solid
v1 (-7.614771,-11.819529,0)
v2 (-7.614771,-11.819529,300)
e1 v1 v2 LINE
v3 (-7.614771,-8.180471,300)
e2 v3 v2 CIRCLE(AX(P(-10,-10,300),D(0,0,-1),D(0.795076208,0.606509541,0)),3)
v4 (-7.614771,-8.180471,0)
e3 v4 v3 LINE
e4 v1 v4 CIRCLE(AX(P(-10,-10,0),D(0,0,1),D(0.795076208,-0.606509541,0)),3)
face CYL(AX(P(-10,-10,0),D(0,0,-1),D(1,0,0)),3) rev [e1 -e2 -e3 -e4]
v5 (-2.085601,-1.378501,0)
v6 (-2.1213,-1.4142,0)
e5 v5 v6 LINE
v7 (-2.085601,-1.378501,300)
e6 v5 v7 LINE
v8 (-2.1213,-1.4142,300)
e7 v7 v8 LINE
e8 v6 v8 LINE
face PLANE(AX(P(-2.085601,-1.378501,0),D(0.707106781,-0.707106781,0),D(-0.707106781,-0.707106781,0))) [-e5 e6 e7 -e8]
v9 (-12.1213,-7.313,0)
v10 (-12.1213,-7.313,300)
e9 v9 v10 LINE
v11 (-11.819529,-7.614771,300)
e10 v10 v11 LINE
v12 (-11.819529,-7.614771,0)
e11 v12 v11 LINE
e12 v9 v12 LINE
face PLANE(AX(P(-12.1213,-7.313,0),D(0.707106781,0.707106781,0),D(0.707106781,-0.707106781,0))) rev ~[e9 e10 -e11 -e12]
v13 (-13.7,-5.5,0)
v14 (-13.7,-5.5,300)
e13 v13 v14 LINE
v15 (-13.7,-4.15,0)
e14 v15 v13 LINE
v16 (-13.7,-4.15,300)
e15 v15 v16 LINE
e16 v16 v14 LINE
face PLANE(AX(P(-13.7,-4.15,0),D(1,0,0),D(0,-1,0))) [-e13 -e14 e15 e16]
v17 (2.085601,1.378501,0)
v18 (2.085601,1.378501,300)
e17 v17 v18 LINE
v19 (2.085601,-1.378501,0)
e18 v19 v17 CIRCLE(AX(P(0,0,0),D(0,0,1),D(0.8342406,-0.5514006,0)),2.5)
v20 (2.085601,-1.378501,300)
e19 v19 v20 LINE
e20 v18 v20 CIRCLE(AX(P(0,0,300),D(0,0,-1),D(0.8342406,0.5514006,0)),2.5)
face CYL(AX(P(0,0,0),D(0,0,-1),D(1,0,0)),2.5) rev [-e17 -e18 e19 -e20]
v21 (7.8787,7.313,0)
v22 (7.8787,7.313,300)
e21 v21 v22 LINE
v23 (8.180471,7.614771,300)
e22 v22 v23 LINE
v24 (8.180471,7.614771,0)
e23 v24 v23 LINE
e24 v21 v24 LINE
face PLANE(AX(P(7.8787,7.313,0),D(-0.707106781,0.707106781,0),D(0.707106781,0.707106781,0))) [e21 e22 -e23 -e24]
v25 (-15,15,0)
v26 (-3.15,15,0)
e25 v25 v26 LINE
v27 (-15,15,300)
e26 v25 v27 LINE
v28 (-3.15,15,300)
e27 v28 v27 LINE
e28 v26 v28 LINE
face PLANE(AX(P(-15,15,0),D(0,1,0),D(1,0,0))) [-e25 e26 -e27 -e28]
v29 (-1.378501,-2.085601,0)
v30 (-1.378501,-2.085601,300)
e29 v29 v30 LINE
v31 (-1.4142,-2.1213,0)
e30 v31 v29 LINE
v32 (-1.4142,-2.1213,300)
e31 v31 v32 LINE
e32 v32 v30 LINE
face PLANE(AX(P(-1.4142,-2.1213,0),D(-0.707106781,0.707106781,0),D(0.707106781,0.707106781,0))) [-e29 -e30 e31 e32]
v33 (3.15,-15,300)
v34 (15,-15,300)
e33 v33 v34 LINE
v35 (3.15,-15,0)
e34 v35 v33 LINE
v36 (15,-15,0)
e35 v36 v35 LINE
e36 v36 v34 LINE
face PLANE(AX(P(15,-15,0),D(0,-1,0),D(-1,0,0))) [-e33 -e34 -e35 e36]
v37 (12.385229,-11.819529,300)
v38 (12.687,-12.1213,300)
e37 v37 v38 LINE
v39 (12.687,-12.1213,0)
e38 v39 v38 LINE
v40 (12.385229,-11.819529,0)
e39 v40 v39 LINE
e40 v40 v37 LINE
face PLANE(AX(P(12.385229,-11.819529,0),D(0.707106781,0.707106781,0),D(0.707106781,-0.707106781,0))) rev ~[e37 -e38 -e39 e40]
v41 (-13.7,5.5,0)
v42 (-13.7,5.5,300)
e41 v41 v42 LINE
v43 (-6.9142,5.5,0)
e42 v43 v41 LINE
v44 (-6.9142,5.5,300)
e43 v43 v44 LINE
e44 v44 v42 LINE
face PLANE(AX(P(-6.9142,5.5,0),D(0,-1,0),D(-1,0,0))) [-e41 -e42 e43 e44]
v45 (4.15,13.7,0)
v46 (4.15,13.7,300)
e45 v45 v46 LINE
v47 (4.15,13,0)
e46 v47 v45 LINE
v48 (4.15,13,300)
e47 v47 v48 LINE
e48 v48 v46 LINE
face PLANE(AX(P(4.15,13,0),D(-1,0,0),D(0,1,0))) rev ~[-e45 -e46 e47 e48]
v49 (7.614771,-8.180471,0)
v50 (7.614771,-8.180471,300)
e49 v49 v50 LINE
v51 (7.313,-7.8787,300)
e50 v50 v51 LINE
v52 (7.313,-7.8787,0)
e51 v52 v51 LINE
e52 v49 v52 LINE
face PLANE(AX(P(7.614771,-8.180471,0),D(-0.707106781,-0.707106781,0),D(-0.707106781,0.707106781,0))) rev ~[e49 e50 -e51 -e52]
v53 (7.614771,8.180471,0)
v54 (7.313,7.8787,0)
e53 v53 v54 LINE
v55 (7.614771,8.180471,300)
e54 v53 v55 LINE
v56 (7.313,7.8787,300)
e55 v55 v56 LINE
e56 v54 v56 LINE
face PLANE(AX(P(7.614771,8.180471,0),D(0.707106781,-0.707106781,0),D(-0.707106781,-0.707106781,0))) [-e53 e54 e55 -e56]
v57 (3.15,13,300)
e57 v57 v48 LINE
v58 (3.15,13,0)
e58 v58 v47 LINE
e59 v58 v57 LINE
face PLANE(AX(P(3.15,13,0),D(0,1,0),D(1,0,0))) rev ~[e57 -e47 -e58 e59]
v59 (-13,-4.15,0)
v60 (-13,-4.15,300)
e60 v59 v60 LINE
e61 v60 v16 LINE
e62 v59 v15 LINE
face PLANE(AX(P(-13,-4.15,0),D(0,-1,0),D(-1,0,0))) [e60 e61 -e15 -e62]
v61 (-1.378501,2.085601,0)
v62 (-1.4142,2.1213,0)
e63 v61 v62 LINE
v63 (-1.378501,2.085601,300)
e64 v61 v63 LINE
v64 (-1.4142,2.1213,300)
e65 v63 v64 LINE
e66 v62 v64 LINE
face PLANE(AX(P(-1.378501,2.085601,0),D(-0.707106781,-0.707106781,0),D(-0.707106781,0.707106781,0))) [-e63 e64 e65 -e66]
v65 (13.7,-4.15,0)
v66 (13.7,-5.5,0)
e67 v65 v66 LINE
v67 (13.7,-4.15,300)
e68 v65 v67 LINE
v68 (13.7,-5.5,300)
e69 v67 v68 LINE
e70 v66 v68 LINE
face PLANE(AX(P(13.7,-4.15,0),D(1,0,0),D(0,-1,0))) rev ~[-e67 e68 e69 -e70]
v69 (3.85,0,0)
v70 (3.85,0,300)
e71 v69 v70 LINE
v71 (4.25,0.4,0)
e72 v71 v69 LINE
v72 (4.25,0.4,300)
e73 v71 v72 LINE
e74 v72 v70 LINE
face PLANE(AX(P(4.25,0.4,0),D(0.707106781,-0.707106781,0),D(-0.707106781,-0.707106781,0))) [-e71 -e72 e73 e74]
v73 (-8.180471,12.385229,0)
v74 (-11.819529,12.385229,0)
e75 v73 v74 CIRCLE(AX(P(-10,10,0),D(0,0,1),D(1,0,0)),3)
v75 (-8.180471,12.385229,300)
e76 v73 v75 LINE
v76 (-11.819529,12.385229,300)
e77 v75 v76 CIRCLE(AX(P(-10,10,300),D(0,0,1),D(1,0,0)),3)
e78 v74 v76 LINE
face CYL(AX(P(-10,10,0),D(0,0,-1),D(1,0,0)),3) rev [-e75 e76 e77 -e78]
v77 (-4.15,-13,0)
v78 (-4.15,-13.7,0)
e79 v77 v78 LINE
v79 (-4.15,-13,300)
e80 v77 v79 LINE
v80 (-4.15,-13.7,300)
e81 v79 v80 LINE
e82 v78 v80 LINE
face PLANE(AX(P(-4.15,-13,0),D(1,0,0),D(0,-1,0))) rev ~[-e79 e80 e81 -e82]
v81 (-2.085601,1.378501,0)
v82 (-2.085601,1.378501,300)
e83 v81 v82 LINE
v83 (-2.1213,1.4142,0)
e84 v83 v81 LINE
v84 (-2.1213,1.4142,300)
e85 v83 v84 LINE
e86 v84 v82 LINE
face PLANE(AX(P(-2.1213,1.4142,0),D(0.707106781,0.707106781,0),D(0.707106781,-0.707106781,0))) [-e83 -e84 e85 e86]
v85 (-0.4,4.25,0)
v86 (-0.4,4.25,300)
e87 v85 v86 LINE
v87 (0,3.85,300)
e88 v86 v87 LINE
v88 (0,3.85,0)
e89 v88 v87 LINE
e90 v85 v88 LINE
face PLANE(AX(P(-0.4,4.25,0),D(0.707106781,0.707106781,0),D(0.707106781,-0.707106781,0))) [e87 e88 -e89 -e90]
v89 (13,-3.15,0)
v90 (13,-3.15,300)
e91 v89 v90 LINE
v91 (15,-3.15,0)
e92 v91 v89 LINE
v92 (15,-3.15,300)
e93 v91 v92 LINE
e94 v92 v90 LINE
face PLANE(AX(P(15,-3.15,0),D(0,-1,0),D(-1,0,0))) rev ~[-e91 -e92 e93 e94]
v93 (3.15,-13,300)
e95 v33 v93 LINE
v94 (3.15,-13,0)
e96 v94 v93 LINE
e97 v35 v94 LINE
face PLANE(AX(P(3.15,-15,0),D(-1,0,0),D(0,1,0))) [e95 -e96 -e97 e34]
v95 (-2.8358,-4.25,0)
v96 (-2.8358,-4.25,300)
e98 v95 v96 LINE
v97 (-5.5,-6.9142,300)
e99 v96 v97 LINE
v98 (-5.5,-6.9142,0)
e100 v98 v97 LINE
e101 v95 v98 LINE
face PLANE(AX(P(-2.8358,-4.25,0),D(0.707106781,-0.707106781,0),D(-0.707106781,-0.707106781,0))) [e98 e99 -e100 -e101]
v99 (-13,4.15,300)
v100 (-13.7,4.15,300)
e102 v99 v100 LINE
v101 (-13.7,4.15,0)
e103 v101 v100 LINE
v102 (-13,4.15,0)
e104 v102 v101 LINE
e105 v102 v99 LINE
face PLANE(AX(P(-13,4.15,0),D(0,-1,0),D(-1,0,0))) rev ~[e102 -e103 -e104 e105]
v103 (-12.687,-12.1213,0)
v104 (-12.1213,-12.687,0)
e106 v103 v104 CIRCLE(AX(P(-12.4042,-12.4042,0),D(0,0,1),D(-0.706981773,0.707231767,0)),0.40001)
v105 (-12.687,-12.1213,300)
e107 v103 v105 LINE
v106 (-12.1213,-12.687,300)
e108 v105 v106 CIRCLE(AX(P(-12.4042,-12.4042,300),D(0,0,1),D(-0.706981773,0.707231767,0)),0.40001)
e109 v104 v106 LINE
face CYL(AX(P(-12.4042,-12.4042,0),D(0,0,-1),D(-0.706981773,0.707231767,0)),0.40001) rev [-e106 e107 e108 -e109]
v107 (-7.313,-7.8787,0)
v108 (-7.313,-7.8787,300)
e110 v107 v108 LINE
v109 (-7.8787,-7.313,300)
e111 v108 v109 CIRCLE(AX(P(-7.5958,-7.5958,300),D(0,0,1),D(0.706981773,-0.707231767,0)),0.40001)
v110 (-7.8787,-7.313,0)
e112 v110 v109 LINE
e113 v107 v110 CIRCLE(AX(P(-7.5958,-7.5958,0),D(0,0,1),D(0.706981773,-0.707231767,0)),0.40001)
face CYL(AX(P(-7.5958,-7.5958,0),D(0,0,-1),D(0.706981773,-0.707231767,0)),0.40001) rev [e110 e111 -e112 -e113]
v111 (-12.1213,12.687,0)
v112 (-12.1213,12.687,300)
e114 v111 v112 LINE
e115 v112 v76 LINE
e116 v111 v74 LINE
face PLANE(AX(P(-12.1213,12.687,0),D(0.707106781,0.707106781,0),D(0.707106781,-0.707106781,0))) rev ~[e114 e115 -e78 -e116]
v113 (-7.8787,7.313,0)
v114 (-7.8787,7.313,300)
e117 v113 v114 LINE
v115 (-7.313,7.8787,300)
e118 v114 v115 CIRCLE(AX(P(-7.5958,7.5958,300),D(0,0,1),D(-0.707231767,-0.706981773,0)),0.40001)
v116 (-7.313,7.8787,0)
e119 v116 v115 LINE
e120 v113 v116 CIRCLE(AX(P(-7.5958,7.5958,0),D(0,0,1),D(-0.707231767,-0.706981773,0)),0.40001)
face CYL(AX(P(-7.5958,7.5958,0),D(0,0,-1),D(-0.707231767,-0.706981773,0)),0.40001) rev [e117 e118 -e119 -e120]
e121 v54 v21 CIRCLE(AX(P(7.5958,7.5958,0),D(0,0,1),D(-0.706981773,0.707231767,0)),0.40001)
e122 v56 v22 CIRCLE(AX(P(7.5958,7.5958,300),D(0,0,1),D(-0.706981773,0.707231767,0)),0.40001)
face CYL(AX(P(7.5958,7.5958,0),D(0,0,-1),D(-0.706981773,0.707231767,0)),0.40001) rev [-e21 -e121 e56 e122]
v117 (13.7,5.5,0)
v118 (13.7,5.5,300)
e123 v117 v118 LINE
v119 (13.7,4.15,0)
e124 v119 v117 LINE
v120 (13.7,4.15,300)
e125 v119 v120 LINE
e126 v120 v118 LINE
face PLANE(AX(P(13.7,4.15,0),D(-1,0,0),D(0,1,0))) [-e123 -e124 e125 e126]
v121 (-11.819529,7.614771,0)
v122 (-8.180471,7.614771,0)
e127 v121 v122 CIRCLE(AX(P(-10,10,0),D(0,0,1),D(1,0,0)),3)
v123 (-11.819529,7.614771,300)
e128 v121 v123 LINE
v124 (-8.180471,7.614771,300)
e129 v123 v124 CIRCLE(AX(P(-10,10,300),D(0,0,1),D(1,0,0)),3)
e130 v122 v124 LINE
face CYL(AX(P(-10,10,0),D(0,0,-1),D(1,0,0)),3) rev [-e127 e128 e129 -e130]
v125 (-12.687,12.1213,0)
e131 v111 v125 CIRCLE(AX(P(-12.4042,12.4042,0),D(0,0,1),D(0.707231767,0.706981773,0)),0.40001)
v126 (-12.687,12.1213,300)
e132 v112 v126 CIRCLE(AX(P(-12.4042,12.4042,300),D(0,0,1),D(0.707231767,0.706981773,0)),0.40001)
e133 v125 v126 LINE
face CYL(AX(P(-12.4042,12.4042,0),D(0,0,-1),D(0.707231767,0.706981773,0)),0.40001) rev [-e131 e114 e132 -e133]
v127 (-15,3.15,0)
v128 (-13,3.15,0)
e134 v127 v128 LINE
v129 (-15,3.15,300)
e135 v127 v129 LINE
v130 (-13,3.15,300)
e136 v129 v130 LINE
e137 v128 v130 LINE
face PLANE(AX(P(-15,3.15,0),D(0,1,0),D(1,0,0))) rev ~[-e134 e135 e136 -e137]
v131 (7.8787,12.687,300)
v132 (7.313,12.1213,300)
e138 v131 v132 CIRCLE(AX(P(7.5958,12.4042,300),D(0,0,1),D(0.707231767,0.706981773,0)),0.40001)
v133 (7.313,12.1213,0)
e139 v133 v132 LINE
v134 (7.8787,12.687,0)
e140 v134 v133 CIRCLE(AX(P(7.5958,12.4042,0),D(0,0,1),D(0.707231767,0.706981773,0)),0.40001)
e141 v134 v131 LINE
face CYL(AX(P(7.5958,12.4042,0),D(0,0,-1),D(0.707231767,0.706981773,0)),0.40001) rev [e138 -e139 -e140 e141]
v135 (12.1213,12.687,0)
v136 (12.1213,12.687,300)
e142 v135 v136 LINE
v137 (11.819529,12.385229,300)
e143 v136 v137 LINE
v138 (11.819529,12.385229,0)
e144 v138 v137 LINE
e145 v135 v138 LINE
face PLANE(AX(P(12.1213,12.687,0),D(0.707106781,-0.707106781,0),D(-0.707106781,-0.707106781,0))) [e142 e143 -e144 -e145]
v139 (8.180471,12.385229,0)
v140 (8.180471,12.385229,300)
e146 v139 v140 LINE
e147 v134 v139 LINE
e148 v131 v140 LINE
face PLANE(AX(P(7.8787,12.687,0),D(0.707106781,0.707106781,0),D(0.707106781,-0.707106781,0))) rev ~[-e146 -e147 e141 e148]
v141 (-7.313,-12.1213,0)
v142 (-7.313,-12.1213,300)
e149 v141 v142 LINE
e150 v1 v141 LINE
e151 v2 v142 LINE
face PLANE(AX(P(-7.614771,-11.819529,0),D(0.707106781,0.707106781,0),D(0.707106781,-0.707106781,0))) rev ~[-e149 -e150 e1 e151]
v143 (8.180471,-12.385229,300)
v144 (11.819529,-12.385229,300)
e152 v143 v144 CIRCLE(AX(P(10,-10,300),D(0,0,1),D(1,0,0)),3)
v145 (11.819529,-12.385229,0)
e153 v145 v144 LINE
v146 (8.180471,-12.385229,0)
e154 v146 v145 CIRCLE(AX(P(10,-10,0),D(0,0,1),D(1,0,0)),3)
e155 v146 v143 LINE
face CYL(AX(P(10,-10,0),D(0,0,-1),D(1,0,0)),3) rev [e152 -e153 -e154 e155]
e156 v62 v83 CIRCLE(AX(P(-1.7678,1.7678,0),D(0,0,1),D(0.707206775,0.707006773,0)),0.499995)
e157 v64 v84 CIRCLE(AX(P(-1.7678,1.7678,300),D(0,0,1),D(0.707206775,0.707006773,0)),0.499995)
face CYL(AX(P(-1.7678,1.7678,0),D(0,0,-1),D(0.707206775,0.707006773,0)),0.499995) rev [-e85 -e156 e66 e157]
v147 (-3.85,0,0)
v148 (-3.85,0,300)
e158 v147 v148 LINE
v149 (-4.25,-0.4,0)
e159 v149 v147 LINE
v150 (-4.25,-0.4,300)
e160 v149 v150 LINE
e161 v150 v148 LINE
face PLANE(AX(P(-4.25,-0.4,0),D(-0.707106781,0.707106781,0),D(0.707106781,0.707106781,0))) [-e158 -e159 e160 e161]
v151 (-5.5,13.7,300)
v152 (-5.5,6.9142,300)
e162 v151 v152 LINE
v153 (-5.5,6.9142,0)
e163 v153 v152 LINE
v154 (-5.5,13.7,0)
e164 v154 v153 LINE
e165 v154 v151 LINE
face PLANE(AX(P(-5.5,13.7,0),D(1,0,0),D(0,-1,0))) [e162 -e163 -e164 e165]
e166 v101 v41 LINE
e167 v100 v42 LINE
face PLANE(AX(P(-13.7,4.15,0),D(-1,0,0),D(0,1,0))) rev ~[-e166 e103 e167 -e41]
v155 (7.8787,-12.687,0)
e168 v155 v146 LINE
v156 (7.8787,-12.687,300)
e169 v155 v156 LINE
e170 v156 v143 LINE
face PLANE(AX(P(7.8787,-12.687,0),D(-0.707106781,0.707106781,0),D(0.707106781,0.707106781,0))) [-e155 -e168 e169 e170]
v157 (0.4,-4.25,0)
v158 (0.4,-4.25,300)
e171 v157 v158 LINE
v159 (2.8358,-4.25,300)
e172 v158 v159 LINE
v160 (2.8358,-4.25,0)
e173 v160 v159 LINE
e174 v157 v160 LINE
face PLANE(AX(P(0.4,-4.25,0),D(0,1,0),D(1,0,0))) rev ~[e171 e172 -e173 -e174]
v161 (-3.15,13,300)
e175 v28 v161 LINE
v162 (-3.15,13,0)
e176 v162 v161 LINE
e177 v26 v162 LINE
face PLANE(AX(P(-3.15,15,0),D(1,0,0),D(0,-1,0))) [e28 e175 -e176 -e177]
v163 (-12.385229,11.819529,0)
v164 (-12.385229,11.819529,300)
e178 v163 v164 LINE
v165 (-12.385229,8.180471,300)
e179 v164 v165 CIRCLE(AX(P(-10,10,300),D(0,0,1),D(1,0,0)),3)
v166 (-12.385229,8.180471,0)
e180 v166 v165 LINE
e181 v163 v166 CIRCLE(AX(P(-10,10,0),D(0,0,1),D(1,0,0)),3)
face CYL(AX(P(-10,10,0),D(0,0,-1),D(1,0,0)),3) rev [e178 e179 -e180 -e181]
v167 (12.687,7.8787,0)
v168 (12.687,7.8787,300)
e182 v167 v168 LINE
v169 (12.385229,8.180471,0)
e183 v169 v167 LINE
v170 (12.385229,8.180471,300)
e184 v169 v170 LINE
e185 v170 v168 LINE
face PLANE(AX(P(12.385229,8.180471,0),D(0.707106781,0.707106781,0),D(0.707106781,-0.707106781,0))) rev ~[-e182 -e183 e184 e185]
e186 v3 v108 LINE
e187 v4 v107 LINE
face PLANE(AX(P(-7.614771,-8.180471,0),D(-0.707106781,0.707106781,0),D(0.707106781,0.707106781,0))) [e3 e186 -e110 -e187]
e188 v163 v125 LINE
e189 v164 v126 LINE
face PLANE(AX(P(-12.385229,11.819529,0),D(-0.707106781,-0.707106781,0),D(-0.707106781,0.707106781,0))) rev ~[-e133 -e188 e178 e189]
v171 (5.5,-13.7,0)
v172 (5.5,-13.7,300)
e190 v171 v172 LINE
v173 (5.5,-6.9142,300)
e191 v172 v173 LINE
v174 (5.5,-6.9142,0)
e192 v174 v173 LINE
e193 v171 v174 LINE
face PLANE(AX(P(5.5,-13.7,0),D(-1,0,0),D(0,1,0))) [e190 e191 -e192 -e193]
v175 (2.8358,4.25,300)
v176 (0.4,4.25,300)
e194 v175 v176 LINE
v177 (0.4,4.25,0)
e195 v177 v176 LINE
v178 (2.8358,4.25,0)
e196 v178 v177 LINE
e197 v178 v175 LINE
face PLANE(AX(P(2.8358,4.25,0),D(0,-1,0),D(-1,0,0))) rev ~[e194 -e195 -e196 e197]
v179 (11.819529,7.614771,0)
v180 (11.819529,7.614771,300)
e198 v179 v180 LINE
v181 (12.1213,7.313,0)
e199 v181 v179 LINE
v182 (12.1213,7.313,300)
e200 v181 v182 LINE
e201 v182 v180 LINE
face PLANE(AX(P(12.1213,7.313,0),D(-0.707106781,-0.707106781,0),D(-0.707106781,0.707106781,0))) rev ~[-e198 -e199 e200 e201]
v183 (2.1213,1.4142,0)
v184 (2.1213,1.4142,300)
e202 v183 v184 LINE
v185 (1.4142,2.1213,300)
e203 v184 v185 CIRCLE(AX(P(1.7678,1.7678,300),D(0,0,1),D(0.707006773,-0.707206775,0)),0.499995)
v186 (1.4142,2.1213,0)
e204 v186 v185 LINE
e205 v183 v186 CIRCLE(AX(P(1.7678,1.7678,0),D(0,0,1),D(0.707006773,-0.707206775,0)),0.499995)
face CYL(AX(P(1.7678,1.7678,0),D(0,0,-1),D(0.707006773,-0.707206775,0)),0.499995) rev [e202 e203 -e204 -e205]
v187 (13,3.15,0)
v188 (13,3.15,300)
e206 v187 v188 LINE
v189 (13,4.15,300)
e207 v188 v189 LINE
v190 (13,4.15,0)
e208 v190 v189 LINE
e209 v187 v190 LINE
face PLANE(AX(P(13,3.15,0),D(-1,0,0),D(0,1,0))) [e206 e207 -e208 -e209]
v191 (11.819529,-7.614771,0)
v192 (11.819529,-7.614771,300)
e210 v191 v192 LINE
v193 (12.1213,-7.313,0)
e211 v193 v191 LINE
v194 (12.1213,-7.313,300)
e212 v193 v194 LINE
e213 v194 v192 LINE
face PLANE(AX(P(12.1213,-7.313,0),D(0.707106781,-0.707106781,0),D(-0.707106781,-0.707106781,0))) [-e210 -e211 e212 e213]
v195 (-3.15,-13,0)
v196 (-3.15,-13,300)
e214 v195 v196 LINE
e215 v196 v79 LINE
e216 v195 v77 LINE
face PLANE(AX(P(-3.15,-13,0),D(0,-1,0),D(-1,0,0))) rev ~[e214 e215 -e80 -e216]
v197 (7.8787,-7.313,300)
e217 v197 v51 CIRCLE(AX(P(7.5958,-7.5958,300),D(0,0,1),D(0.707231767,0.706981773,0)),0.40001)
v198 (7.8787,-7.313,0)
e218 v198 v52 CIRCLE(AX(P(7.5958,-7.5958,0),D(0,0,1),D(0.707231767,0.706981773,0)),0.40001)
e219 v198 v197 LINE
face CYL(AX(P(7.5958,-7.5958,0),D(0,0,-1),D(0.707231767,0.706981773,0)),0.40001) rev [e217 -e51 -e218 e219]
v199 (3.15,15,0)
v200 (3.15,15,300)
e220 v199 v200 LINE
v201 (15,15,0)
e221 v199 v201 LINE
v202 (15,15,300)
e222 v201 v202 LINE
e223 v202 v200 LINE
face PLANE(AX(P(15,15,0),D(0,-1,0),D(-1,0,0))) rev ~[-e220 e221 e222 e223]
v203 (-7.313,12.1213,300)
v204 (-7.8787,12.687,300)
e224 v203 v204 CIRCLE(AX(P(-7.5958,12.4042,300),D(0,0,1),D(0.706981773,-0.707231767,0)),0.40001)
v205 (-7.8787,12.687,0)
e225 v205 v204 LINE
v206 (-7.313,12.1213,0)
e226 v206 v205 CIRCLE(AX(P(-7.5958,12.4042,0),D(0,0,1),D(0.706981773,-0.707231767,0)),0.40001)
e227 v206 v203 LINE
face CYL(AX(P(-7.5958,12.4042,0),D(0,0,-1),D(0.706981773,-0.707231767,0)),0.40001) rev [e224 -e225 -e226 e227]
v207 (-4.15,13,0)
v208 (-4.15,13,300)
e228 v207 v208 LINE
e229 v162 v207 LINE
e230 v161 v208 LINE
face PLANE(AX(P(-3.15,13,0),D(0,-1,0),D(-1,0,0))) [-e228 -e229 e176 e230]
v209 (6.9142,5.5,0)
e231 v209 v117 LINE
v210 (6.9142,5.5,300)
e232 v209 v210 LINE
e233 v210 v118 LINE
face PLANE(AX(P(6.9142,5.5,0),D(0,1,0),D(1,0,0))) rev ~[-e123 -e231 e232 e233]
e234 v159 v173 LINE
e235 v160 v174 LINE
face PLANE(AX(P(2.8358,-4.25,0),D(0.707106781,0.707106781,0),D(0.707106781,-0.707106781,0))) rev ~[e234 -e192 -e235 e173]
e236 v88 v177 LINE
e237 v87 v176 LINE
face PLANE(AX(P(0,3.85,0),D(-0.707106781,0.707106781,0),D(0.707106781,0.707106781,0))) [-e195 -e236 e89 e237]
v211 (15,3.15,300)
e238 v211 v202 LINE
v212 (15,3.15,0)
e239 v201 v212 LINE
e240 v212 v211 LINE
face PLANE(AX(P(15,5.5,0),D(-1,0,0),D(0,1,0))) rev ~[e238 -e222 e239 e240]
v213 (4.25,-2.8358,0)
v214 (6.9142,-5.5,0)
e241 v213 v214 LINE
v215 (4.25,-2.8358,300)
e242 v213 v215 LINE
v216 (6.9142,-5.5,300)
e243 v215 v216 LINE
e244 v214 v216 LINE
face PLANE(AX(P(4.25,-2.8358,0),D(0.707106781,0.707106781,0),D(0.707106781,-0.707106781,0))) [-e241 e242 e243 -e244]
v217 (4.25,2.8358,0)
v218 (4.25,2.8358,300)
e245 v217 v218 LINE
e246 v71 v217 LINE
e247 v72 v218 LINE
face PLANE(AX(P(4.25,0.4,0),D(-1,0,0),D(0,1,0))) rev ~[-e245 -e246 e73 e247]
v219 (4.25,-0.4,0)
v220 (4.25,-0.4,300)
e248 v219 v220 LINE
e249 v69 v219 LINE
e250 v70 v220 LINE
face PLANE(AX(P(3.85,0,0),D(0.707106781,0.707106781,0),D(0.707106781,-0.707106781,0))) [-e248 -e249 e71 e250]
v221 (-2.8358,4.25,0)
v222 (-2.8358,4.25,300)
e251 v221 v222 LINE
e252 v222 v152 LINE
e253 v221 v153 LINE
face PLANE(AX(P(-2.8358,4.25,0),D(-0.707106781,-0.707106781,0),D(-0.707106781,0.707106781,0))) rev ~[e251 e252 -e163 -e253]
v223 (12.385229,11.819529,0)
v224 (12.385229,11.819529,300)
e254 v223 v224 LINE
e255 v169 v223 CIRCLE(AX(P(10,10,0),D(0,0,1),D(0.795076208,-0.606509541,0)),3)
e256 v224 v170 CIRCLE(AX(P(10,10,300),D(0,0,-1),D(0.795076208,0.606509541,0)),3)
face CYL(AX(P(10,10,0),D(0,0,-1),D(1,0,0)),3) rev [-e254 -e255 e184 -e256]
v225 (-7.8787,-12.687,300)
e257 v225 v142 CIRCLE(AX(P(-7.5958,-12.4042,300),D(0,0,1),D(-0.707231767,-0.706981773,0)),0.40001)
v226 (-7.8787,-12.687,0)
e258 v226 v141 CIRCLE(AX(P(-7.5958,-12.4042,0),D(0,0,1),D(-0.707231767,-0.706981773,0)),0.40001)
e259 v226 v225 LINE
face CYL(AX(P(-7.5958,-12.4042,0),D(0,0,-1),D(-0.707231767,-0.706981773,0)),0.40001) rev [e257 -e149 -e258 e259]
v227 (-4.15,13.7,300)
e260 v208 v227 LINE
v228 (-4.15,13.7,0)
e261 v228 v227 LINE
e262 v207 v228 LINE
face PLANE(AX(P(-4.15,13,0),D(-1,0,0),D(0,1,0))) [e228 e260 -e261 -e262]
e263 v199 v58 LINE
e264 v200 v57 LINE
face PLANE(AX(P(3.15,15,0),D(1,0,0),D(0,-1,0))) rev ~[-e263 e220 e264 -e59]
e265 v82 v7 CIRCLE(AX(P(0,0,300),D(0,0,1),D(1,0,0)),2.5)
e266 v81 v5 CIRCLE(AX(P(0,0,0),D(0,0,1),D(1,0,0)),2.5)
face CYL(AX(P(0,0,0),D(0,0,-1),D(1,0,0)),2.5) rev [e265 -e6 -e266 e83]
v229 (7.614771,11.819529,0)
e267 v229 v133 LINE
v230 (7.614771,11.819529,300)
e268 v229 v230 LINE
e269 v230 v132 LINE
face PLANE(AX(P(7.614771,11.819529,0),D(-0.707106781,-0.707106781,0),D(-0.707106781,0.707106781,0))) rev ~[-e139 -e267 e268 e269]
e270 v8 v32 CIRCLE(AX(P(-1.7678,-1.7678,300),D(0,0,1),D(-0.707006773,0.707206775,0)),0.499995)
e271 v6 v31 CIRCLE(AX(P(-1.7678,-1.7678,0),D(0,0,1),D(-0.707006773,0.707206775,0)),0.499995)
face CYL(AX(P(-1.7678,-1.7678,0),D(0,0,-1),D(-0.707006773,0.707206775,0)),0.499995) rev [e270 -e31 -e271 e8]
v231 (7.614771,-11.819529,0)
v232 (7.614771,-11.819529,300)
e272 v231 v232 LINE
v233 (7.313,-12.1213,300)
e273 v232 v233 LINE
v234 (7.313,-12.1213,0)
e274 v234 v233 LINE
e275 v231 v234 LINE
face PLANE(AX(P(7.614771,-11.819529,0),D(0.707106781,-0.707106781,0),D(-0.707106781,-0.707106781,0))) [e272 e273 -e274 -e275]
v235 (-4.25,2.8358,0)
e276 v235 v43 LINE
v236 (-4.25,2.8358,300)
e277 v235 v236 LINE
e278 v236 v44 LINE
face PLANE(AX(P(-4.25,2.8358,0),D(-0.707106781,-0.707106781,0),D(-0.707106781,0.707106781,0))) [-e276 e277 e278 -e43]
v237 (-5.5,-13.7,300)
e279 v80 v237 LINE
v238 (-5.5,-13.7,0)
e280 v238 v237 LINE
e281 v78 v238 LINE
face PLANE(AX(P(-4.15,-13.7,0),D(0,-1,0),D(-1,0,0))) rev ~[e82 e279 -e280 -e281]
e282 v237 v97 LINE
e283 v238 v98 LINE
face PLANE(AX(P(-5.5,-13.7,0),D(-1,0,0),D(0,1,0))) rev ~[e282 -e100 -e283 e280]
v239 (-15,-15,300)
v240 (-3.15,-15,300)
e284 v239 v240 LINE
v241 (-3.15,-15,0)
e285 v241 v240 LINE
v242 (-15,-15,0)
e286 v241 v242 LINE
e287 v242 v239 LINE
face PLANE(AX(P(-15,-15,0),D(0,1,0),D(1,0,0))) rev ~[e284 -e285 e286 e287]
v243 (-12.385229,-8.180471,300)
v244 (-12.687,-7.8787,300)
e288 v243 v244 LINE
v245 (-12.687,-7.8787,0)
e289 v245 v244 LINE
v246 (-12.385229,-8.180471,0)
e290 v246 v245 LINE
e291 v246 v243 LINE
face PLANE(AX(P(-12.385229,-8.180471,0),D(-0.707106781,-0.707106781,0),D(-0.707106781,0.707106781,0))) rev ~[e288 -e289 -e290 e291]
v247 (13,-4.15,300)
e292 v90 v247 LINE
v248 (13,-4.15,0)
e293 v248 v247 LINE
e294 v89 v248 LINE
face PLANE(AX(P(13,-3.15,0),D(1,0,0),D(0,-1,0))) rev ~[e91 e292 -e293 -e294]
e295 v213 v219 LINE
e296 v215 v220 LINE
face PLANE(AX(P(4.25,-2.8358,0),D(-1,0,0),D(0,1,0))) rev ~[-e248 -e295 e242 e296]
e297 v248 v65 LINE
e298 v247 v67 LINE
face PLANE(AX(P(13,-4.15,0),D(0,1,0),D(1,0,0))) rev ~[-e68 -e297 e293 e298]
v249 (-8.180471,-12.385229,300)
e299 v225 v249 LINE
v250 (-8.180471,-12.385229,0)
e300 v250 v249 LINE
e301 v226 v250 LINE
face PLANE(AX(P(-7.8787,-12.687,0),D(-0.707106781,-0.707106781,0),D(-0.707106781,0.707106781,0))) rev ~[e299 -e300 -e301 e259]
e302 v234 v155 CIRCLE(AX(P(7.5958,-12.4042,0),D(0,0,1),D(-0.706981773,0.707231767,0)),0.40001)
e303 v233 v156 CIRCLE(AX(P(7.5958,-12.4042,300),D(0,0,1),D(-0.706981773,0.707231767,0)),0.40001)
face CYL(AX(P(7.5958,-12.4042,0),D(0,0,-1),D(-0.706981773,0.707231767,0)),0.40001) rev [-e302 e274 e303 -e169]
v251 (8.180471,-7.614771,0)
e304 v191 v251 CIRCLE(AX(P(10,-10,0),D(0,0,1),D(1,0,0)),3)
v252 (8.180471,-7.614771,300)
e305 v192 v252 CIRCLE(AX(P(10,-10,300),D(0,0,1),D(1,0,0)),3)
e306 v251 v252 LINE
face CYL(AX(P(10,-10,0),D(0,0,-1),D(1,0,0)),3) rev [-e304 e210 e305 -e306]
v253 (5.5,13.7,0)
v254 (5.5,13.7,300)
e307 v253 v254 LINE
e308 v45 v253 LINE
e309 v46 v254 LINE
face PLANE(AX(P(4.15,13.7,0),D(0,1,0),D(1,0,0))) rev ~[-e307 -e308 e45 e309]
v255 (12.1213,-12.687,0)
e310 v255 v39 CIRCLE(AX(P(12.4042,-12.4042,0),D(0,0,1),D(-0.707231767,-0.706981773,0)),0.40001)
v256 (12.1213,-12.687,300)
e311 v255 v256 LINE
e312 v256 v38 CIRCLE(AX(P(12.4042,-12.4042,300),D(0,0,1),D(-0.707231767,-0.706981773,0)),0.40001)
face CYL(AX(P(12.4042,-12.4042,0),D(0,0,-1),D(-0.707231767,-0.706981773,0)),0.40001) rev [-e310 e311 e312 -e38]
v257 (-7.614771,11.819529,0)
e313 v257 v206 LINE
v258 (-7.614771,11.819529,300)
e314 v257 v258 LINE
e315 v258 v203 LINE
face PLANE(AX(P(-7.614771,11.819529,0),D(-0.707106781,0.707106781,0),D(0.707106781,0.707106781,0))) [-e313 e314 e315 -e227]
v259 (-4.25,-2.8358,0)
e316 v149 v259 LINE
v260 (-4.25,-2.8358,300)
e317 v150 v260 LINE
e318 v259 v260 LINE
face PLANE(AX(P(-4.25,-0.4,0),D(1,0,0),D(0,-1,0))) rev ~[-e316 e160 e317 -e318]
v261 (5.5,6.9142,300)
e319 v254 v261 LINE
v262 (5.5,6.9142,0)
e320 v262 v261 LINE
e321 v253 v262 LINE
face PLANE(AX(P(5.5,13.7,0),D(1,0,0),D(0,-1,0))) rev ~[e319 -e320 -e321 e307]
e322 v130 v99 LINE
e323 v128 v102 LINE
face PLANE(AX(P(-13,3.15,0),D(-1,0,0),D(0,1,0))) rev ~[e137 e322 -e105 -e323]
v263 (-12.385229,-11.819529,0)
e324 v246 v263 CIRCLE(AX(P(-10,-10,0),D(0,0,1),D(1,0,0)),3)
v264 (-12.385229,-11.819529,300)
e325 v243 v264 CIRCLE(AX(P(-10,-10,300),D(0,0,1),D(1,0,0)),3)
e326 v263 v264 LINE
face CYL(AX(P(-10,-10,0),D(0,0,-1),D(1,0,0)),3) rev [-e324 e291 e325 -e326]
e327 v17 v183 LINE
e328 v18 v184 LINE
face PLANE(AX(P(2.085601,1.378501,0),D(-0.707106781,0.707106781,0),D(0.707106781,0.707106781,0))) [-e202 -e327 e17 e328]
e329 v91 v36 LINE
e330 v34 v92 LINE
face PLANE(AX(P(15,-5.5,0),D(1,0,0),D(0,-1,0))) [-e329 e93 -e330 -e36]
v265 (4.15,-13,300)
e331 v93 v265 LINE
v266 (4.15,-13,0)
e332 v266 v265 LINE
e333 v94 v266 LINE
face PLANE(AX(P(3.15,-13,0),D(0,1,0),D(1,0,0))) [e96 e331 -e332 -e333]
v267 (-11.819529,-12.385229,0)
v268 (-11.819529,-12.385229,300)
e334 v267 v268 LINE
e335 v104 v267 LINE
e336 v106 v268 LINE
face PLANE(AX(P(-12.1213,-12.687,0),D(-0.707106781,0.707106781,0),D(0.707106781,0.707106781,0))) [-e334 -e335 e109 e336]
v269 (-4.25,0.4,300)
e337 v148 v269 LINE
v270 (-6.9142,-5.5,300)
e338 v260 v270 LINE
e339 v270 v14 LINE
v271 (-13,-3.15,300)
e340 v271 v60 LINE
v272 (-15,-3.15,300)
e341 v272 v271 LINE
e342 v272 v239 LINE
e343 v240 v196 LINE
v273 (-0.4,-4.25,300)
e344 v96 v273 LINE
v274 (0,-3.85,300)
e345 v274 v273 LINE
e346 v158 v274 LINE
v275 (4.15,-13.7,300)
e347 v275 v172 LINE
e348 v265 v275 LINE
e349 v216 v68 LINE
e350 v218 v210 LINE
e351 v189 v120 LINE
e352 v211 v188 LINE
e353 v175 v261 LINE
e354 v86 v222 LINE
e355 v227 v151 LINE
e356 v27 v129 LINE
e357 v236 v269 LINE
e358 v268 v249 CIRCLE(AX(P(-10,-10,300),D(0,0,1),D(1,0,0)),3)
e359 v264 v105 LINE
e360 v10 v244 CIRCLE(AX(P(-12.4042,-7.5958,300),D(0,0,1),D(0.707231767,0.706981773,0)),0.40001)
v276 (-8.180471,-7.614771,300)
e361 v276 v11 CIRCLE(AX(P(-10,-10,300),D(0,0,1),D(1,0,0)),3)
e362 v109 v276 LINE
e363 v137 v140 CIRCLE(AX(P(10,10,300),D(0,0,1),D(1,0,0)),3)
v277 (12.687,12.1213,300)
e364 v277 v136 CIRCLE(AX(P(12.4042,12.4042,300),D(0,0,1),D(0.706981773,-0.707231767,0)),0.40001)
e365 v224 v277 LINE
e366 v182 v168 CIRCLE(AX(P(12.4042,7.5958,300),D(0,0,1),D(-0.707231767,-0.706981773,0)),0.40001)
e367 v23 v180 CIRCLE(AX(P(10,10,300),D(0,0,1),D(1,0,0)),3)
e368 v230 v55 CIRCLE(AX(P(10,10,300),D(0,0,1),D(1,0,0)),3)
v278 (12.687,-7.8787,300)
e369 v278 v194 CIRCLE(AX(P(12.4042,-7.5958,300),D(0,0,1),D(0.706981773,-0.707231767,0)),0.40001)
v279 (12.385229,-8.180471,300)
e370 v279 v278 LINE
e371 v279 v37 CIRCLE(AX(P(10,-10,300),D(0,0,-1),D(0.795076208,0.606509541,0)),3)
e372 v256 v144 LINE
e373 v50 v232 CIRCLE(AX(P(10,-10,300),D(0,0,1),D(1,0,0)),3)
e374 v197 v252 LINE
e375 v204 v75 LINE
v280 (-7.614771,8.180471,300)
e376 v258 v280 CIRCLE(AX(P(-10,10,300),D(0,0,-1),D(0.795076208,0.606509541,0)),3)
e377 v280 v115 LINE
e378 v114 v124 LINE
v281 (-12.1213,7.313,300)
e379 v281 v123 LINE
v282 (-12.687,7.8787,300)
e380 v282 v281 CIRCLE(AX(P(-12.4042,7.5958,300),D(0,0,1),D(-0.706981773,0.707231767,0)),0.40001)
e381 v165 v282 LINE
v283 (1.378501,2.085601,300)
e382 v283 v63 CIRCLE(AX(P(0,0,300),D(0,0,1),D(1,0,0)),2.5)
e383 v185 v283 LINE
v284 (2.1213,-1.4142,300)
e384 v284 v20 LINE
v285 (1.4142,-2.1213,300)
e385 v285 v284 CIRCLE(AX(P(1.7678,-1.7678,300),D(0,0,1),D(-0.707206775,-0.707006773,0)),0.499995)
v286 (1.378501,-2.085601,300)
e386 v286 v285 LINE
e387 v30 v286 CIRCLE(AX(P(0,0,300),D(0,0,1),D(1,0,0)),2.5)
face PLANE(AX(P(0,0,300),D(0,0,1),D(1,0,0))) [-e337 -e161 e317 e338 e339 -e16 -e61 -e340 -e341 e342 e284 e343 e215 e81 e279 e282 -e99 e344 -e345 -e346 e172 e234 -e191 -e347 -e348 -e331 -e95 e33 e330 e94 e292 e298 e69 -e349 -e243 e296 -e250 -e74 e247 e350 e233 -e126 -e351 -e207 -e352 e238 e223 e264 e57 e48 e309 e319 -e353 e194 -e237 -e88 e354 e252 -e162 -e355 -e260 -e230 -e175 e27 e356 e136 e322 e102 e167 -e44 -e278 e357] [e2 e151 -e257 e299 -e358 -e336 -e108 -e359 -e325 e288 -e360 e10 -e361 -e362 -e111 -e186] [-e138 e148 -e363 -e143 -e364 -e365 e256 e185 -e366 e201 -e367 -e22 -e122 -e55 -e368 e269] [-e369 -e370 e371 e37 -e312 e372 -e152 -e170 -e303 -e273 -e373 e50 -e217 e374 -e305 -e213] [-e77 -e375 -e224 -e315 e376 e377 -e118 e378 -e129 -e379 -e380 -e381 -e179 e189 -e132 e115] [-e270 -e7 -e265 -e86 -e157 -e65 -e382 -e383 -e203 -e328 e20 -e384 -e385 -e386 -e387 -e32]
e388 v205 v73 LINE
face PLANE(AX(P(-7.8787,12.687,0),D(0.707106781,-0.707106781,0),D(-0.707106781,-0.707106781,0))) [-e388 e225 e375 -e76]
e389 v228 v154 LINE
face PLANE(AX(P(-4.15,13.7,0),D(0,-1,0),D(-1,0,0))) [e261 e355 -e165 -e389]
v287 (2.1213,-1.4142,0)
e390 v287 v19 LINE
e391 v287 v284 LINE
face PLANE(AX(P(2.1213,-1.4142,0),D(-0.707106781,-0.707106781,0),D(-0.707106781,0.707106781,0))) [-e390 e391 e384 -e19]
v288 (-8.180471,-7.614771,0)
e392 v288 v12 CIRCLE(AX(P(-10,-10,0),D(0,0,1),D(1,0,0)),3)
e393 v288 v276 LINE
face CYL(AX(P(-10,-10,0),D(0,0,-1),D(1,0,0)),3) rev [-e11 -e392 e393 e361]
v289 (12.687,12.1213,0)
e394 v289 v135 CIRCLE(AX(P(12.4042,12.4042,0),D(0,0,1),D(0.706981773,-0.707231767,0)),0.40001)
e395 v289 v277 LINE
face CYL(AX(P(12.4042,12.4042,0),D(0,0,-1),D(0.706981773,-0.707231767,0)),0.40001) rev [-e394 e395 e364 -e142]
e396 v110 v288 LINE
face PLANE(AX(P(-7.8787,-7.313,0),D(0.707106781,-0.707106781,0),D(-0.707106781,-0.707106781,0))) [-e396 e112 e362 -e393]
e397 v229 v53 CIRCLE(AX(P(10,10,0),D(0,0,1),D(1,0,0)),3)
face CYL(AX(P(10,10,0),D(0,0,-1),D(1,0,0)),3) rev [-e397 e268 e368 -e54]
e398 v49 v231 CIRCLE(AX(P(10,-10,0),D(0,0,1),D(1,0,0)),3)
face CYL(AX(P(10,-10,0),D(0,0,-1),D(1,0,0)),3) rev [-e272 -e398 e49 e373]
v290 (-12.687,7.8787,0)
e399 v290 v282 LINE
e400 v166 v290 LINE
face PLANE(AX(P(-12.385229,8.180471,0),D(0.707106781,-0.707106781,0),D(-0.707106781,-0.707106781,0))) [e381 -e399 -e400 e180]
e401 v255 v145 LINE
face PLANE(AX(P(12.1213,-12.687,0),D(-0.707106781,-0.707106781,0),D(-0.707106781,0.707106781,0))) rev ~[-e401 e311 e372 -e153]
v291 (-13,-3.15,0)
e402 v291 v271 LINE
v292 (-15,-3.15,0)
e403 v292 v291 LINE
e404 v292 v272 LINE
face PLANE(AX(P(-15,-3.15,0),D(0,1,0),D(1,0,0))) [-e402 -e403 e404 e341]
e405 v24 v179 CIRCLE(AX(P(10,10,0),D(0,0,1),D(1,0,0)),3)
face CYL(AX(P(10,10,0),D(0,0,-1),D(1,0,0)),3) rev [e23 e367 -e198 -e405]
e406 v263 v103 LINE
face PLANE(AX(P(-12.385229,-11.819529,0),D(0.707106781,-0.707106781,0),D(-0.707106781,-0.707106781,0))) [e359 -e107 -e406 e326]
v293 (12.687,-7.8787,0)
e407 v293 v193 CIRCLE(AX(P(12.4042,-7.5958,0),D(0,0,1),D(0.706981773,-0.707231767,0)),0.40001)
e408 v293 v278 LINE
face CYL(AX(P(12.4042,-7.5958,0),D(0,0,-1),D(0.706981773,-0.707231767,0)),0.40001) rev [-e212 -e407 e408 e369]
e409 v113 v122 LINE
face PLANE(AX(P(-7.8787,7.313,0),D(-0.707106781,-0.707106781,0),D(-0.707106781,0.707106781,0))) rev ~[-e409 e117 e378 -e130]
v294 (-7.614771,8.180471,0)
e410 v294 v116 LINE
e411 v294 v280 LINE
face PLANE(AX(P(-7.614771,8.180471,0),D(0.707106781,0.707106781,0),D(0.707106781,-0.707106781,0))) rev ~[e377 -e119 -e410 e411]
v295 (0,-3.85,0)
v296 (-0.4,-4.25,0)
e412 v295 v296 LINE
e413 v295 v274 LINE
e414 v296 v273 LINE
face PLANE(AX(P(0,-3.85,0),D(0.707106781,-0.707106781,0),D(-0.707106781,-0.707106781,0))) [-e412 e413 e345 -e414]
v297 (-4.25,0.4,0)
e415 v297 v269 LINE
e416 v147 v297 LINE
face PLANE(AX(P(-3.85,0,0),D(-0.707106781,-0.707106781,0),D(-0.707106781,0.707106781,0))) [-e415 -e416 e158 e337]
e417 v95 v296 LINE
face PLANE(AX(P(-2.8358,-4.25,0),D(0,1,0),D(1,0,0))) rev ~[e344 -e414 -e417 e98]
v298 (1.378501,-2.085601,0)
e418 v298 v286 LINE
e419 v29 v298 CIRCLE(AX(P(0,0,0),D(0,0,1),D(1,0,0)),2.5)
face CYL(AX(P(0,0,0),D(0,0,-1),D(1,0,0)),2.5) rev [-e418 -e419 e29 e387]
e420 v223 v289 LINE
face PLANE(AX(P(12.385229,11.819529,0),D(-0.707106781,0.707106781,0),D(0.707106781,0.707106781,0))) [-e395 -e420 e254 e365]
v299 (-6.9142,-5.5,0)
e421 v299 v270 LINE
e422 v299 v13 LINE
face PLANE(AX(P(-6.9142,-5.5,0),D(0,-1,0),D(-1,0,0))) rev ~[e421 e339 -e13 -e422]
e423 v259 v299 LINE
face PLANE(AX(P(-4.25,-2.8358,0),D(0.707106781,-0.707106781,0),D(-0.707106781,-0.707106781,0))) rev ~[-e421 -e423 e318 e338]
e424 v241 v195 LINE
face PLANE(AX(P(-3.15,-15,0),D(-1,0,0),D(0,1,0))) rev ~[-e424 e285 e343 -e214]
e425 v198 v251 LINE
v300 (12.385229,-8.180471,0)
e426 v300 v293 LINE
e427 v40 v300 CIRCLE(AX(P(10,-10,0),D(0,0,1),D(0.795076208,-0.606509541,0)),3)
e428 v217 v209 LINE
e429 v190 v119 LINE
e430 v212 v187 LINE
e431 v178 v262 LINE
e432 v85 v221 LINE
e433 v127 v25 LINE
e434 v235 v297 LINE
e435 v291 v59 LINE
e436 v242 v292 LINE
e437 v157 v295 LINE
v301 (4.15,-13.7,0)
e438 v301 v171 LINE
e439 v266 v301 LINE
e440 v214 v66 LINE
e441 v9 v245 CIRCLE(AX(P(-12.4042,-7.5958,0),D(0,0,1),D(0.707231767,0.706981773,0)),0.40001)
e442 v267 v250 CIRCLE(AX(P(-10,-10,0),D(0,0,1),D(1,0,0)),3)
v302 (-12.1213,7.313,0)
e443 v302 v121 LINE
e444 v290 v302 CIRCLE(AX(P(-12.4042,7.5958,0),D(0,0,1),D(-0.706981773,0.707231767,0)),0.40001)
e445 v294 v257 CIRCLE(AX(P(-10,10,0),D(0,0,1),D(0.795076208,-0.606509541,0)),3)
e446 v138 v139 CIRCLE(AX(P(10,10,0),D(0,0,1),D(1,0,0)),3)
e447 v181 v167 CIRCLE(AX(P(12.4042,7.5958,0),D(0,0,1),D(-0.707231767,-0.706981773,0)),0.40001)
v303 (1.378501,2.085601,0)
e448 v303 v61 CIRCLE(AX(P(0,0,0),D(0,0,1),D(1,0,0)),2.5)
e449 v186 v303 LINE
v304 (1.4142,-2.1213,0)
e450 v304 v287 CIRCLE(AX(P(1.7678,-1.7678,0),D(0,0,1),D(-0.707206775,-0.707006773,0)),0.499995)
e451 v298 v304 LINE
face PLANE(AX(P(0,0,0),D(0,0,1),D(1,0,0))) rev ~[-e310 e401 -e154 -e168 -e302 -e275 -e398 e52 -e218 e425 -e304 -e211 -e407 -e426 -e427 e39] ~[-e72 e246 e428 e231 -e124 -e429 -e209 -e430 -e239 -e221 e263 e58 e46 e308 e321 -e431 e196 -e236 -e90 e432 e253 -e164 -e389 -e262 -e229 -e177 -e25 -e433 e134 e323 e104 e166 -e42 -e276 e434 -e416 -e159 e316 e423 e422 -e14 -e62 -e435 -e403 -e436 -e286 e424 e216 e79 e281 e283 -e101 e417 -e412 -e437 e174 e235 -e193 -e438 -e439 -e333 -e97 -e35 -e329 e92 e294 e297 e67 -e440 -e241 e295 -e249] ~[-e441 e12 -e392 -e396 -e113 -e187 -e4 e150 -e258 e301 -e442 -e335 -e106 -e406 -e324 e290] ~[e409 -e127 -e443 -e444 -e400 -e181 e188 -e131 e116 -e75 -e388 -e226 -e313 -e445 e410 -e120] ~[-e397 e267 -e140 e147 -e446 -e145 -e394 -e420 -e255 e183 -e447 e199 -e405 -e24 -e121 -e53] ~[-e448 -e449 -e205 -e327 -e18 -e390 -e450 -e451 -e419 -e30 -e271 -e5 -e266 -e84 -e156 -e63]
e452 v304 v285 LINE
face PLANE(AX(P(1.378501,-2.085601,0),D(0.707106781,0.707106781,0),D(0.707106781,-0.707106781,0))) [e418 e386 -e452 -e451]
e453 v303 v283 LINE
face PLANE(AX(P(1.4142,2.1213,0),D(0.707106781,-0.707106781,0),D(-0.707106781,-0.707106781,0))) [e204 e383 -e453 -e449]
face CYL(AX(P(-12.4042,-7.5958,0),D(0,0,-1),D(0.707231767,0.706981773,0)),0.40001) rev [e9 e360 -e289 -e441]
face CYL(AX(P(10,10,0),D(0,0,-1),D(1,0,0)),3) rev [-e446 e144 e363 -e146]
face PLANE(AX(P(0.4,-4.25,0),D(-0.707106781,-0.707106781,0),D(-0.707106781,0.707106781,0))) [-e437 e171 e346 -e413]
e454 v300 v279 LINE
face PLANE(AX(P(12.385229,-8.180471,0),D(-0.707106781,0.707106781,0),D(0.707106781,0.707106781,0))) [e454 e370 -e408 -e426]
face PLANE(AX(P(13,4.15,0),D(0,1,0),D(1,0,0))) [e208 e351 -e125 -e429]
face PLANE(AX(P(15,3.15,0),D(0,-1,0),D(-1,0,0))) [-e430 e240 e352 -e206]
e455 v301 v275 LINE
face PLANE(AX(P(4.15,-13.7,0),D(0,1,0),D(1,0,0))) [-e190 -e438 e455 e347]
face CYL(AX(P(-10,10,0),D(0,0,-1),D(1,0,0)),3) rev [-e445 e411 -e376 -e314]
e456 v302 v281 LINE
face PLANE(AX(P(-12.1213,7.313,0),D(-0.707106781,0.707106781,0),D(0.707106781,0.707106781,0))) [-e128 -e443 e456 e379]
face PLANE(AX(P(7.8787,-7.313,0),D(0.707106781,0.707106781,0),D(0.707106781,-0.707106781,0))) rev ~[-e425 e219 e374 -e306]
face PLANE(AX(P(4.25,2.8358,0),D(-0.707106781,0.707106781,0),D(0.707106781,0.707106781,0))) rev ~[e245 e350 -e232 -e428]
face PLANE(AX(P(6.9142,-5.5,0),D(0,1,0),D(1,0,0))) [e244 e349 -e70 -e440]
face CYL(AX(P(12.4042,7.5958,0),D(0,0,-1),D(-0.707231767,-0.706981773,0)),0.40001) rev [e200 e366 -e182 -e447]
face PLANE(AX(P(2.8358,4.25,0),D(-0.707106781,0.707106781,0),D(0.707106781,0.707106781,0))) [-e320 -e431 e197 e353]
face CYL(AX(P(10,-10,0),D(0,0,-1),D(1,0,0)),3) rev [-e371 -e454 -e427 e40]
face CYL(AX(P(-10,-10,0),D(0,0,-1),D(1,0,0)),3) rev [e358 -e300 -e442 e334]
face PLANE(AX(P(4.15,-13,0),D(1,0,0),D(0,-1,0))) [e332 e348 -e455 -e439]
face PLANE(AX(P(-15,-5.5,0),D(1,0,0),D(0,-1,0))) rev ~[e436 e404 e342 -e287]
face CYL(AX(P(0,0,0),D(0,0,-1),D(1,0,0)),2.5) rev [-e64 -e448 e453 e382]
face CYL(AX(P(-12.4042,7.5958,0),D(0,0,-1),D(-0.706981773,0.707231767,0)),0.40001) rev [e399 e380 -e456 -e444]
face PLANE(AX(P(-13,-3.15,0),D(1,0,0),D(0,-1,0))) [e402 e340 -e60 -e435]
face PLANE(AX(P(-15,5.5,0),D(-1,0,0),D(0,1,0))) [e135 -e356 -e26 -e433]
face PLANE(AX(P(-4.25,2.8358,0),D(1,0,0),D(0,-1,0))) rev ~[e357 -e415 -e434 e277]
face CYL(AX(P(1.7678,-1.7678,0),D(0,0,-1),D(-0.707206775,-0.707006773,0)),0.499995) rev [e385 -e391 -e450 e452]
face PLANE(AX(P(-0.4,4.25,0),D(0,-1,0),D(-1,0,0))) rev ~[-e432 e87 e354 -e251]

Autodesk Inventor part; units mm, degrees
ref_plane "RIGHT" through (0, 0, 0) normal (1, 0, 0) x (0, 1, 0)
ref_plane "TOP" through (0, 0, 0) normal (0, 1, 0) x (-1, 0, 0)
ref_plane "FRONT" through (0, 0, 0) normal (0, 0, 1) x (1, 0, 0)
sketch "Sketch2" plane through (0, 0, 0) normal (0, 0, 1) x (1, 0, 0)
  circle A0 centre (0, 0) radius 2.5
  circle A1 centre (10, 10) radius 3
  line L0 (-4.25, -4.25) -> (4.25, -4.25)
  line L1 (4.25, -4.25) -> (4.25, 4.25)
  line L2 (4.25, 4.25) -> (-4.25, 4.25)
  line L3 (-4.25, 4.25) -> (-4.25, -4.25)
  line L4 (-4.25, -4.25) -> (4.25, 4.25) construction
  line L5 (4.25, -4.25) -> (-4.25, 4.25) construction
  line L6 (15, 5) -> (15, 15)
  line L7 (15, 15) -> (5, 15)
  line L8 (5, 5) -> (15, 15) construction
  line L9 (15, 5) -> (5, 15) construction
  line L10 (5, 15) -> (3.15, 15)
  line L11 (3.15, 15) -> (3.15, 13)
  line L12 (3.15, 13) -> (4.15, 13)
  line L13 (4.15, 13) -> (4.15, 13.7)
  line L14 (4.15, 13.7) -> (5.5, 13.7)
  line L15 (0, 0) -> (10, 10) construction
  line L16 (5.5, 15) -> (5.5, 5.5)
  line L17 (5.5, 5.5) -> (15, 5.5)
  line L18 (2.8358, 4.25) -> (5.5, 6.9142)
  line L19 (12.4042, 7.5958) -> (7.5958, 12.4042) construction
  line L20 (12.1213, 7.313) -> (7.313, 12.1213)
  line L21 (7.8787, 12.687) -> (12.687, 7.8787)
  arc A2 (12.1213, 7.313) -> (12.687, 7.8787) centre (12.4042, 7.5958) ccw
  arc A3 (7.8787, 12.687) -> (7.313, 12.1213) centre (7.5958, 12.4042) ccw
  line L22 (-0.4, 4.25) -> (0, 3.85)
  line L23 (0, 3.85) -> (0.4, 4.25)
  line L24 (0, 4.25) -> (0, -4.25) construction
  line L25 (7.5958, 7.5958) -> (12.4042, 12.4042) construction
  line L26 (7.8787, 7.313) -> (12.687, 12.1213)
  line L27 (12.1213, 12.687) -> (7.313, 7.8787)
  arc A4 (7.313, 7.8787) -> (7.8787, 7.313) centre (7.5958, 7.5958) ccw
  arc A5 (12.687, 12.1213) -> (12.1213, 12.687) centre (12.4042, 12.4042) ccw
  line L28 (15, 5) -> (15, 3.15)
  line L29 (15, 3.15) -> (13, 3.15)
  line L30 (13, 3.15) -> (13, 4.15)
  line L31 (13, 4.15) -> (13.7, 4.15)
  line L32 (13.7, 4.15) -> (13.7, 5.5)
  line L33 (4.25, 2.8358) -> (6.9142, 5.5)
  line L34 (-1.7678, -1.7678) -> (1.7678, 1.7678) construction
  line L35 (-1.4142, -2.1213) -> (2.1213, 1.4142)
  line L36 (1.4142, 2.1213) -> (-2.1213, -1.4142)
  arc A6 (-2.1213, -1.4142) -> (-1.4142, -2.1213) centre (-1.7678, -1.7678) ccw
  arc A7 (2.1213, 1.4142) -> (1.4142, 2.1213) centre (1.7678, 1.7678) ccw
  line L37 (1.7678, -1.7678) -> (-1.7678, 1.7678) construction
  line L38 (2.1213, -1.4142) -> (-1.4142, 2.1213)
  line L39 (-2.1213, 1.4142) -> (1.4142, -2.1213)
  arc A8 (1.4142, -2.1213) -> (2.1213, -1.4142) centre (1.7678, -1.7678) ccw
  arc A9 (-1.4142, 2.1213) -> (-2.1213, 1.4142) centre (-1.7678, 1.7678) ccw
  line L40 (-4.25, 0) -> (4.25, 0) construction
  circle A10 centre (10, -10) radius 3
  line L41 (15, -5) -> (15, -15)
  line L42 (15, -15) -> (5, -15)
  line L43 (5, -5) -> (15, -15) construction
  line L44 (15, -5) -> (5, -15) construction
  line L45 (5, -15) -> (3.15, -15)
  line L46 (3.15, -15) -> (3.15, -13)
  line L47 (3.15, -13) -> (4.15, -13)
  line L48 (4.15, -13) -> (4.15, -13.7)
  line L49 (4.15, -13.7) -> (5.5, -13.7)
  line L50 (0, 0) -> (10, -10) construction
  line L51 (5.5, -15) -> (5.5, -5.5)
  line L52 (5.5, -5.5) -> (15, -5.5)
  line L53 (2.8358, -4.25) -> (5.5, -6.9142)
  line L54 (12.4042, -7.5958) -> (7.5958, -12.4042) construction
  line L55 (12.1213, -7.313) -> (7.313, -12.1213)
  line L56 (7.8787, -12.687) -> (12.687, -7.8787)
  arc A11 (12.687, -7.8787) -> (12.1213, -7.313) centre (12.4042, -7.5958) ccw
  arc A12 (7.313, -12.1213) -> (7.8787, -12.687) centre (7.5958, -12.4042) ccw
  line L57 (7.5958, -7.5958) -> (12.4042, -12.4042) construction
  line L58 (7.8787, -7.313) -> (12.687, -12.1213)
  line L59 (12.1213, -12.687) -> (7.313, -7.8787)
  arc A13 (7.8787, -7.313) -> (7.313, -7.8787) centre (7.5958, -7.5958) ccw
  arc A14 (12.1213, -12.687) -> (12.687, -12.1213) centre (12.4042, -12.4042) ccw
  line L60 (13.7, -4.15) -> (13.7, -5.5)
  line L61 (15, -5) -> (15, -3.15)
  line L62 (15, -3.15) -> (13, -3.15)
  line L63 (13, -4.15) -> (13.7, -4.15)
  line L64 (13, -3.15) -> (13, -4.15)
  line L65 (4.25, -2.8358) -> (6.9142, -5.5)
  circle A15 centre (-10, 10) radius 3
  line L66 (-15, 5) -> (-15, 15)
  line L67 (-15, 15) -> (-5, 15)
  line L68 (-5, 5) -> (-15, 15) construction
  line L69 (-15, 5) -> (-5, 15) construction
  line L70 (-5, 15) -> (-3.15, 15)
  line L71 (-3.15, 15) -> (-3.15, 13)
  line L72 (-3.15, 13) -> (-4.15, 13)
  line L73 (-4.15, 13) -> (-4.15, 13.7)
  line L74 (-4.15, 13.7) -> (-5.5, 13.7)
  line L75 (0, 0) -> (-10, 10) construction
  line L76 (-5.5, 15) -> (-5.5, 5.5)
  line L77 (-5.5, 5.5) -> (-15, 5.5)
  line L78 (-2.8358, 4.25) -> (-5.5, 6.9142)
  line L79 (-12.4042, 7.5958) -> (-7.5958, 12.4042) construction
  line L80 (-12.1213, 7.313) -> (-7.313, 12.1213)
  line L81 (-7.8787, 12.687) -> (-12.687, 7.8787)
  arc A16 (-12.687, 7.8787) -> (-12.1213, 7.313) centre (-12.4042, 7.5958) ccw
  arc A17 (-7.313, 12.1213) -> (-7.8787, 12.687) centre (-7.5958, 12.4042) ccw
  line L82 (-7.5958, 7.5958) -> (-12.4042, 12.4042) construction
  line L83 (-7.8787, 7.313) -> (-12.687, 12.1213)
  line L84 (-12.1213, 12.687) -> (-7.313, 7.8787)
  arc A18 (-7.8787, 7.313) -> (-7.313, 7.8787) centre (-7.5958, 7.5958) ccw
  arc A19 (-12.1213, 12.687) -> (-12.687, 12.1213) centre (-12.4042, 12.4042) ccw
  line L85 (-13.7, 4.15) -> (-13.7, 5.5)
  line L86 (-15, 5) -> (-15, 3.15)
  line L87 (-15, 3.15) -> (-13, 3.15)
  line L88 (-13, 4.15) -> (-13.7, 4.15)
  line L89 (-13, 3.15) -> (-13, 4.15)
  line L90 (-4.25, 2.8358) -> (-6.9142, 5.5)
  arc A20 (-12.687, -12.1213) -> (-12.1213, -12.687) centre (-12.4042, -12.4042) ccw
  arc A21 (-7.8787, -12.687) -> (-7.313, -12.1213) centre (-7.5958, -12.4042) ccw
  arc A22 (-12.1213, -7.313) -> (-12.687, -7.8787) centre (-12.4042, -7.5958) ccw
  line L91 (-12.1213, -12.687) -> (-7.313, -7.8787)
  line L92 (-7.8787, -12.687) -> (-12.687, -7.8787)
  line L93 (-7.5958, -7.5958) -> (-12.4042, -12.4042) construction
  line L94 (-12.4042, -7.5958) -> (-7.5958, -12.4042) construction
  line L95 (-7.8787, -7.313) -> (-12.687, -12.1213)
  line L96 (-12.1213, -7.313) -> (-7.313, -12.1213)
  circle A23 centre (-10, -10) radius 3
  line L97 (-15, -15) -> (-5, -15)
  line L98 (-15, -5) -> (-15, -15)
  line L99 (-5.5, -15) -> (-5.5, -5.5)
  line L100 (-5.5, -5.5) -> (-15, -5.5)
  line L101 (-15, -5) -> (-5, -15) construction
  line L102 (-5, -5) -> (-15, -15) construction
  arc A24 (-7.313, -7.8787) -> (-7.8787, -7.313) centre (-7.5958, -7.5958) ccw
  line L103 (-5, -15) -> (-3.15, -15)
  line L104 (-3.15, -15) -> (-3.15, -13)
  line L105 (-4.15, -13) -> (-4.15, -13.7)
  line L106 (-4.15, -13.7) -> (-5.5, -13.7)
  line L107 (-3.15, -13) -> (-4.15, -13)
  line L108 (0, 0) -> (-10, -10) construction
  line L109 (-2.8358, -4.25) -> (-5.5, -6.9142)
  line L110 (-4.25, -2.8358) -> (-6.9142, -5.5)
  line L111 (-13.7, -4.15) -> (-13.7, -5.5)
  line L112 (-15, -5) -> (-15, -3.15)
  line L113 (-13, -3.15) -> (-13, -4.15)
  line L114 (-15, -3.15) -> (-13, -3.15)
  line L115 (-13, -4.15) -> (-13.7, -4.15)
  line L116 (-3.85, 0) -> (-4.25, 0.4)
  line L117 (-4.25, -0.4) -> (-3.85, 0)
  line L118 (0, -3.85) -> (-0.4, -4.25)
  line L119 (0.4, -4.25) -> (0, -3.85)
  line L120 (3.85, 0) -> (4.25, -0.4)
  line L121 (4.25, 0.4) -> (3.85, 0)
  point P0 (-7.6148, -8.1805)
  point P1 (-7.6148, -11.8195)
  point P2 (-8.1805, -12.3852)
  point P3 (-11.8195, -12.3852)
  point P4 (-12.3852, -11.8195)
  point P5 (-12.3852, -8.1805)
  point P6 (-11.8195, -7.6148)
  point P7 (-8.1805, -7.6148)
  point P8 (-7.6148, 11.8195)
  point P9 (-7.6148, 8.1805)
  point P10 (-8.1805, 7.6148)
  point P11 (-11.8195, 7.6148)
  point P12 (-12.3852, 8.1805)
  point P13 (-12.3852, 11.8195)
  point P14 (-11.8195, 12.3852)
  point P15 (-8.1805, 12.3852)
  point P16 (11.8195, -12.3852)
  point P17 (8.1805, -12.3852)
  point P18 (7.6148, -11.8195)
  point P19 (7.6148, -8.1805)
  point P20 (8.1805, -7.6148)
  point P21 (11.8195, -7.6148)
  point P22 (12.3852, -8.1805)
  point P23 (12.3852, -11.8195)
  point P24 (-2.0856, -1.3785)
  point P25 (-2.0856, 1.3785)
  point P26 (-1.3785, 2.0856)
  point P27 (1.3785, 2.0856)
  point P28 (2.0856, 1.3785)
  point P29 (2.0856, -1.3785)
  point P30 (1.3785, -2.0856)
  point P31 (-1.3785, -2.0856)
  point P32 (11.8195, 7.6148)
  point P33 (8.1805, 7.6148)
  point P34 (7.6148, 8.1805)
  point P35 (7.6148, 11.8195)
  point P36 (8.1805, 12.3852)
  point P37 (11.8195, 12.3852)
  point P38 (12.3852, 11.8195)
  point P39 (12.3852, 8.1805)
  dimension "d15" = 5
  dimension "d16" = 6
  dimension "d17" = 10
  dimension "d18" = 10
  dimension "d19" = 8.5
  dimension "d21" = 3.15
  dimension "d22" = 1
  dimension "d23" = 2
  dimension "d24" = 1.3
  dimension "d25" = 5
  dimension "d26" = 4.5
  dimension "d27" = 1
  dimension "d28" = 0.8
  dimension "d29" = 3.4
  dimension "d30" = 0.8
  dimension "d31" = 0.8
  dimension "d32" = 3.4
  dimension "d33" = 1
  dimension "d34" = 1
  dimension "d37" = 360
extrude "Extrusion2" add sketch "Sketch2" along normal blind 300 contours L3 L117 L116 L2 L22 L23 L1 L121 L120 L0 L119 L118 | L0 L109 L99 L100 L110 L3 | L99 L97 L98 L100 | L106 L105 L107 L104 L103 L97 L99 | L100 L98 L112 L114 L113 L115 L111 | L0 L1 L65 L52 L51 L53 | L90 L77 L76 L78 L2 L3 | L51 L52 L41 L42 | L77 L66 L67 L76 | L51 L42 L45 L46 L47 L48 L49 | L85 L88 L89 L87 L86 L66 L77 | L60 L63 L64 L62 L61 L41 L52 | L76 L67 L70 L71 L72 L73 L74 | L1 L2 L18 L16 L17 L33 | L17 L16 L7 L6 | L17 L6 L28 L29 L30 L31 L32 | L14 L13 L12 L11 L10 L7 L16
properties part number "3030 Aluminium Profile" material "Aluminum 6061-AHC"
